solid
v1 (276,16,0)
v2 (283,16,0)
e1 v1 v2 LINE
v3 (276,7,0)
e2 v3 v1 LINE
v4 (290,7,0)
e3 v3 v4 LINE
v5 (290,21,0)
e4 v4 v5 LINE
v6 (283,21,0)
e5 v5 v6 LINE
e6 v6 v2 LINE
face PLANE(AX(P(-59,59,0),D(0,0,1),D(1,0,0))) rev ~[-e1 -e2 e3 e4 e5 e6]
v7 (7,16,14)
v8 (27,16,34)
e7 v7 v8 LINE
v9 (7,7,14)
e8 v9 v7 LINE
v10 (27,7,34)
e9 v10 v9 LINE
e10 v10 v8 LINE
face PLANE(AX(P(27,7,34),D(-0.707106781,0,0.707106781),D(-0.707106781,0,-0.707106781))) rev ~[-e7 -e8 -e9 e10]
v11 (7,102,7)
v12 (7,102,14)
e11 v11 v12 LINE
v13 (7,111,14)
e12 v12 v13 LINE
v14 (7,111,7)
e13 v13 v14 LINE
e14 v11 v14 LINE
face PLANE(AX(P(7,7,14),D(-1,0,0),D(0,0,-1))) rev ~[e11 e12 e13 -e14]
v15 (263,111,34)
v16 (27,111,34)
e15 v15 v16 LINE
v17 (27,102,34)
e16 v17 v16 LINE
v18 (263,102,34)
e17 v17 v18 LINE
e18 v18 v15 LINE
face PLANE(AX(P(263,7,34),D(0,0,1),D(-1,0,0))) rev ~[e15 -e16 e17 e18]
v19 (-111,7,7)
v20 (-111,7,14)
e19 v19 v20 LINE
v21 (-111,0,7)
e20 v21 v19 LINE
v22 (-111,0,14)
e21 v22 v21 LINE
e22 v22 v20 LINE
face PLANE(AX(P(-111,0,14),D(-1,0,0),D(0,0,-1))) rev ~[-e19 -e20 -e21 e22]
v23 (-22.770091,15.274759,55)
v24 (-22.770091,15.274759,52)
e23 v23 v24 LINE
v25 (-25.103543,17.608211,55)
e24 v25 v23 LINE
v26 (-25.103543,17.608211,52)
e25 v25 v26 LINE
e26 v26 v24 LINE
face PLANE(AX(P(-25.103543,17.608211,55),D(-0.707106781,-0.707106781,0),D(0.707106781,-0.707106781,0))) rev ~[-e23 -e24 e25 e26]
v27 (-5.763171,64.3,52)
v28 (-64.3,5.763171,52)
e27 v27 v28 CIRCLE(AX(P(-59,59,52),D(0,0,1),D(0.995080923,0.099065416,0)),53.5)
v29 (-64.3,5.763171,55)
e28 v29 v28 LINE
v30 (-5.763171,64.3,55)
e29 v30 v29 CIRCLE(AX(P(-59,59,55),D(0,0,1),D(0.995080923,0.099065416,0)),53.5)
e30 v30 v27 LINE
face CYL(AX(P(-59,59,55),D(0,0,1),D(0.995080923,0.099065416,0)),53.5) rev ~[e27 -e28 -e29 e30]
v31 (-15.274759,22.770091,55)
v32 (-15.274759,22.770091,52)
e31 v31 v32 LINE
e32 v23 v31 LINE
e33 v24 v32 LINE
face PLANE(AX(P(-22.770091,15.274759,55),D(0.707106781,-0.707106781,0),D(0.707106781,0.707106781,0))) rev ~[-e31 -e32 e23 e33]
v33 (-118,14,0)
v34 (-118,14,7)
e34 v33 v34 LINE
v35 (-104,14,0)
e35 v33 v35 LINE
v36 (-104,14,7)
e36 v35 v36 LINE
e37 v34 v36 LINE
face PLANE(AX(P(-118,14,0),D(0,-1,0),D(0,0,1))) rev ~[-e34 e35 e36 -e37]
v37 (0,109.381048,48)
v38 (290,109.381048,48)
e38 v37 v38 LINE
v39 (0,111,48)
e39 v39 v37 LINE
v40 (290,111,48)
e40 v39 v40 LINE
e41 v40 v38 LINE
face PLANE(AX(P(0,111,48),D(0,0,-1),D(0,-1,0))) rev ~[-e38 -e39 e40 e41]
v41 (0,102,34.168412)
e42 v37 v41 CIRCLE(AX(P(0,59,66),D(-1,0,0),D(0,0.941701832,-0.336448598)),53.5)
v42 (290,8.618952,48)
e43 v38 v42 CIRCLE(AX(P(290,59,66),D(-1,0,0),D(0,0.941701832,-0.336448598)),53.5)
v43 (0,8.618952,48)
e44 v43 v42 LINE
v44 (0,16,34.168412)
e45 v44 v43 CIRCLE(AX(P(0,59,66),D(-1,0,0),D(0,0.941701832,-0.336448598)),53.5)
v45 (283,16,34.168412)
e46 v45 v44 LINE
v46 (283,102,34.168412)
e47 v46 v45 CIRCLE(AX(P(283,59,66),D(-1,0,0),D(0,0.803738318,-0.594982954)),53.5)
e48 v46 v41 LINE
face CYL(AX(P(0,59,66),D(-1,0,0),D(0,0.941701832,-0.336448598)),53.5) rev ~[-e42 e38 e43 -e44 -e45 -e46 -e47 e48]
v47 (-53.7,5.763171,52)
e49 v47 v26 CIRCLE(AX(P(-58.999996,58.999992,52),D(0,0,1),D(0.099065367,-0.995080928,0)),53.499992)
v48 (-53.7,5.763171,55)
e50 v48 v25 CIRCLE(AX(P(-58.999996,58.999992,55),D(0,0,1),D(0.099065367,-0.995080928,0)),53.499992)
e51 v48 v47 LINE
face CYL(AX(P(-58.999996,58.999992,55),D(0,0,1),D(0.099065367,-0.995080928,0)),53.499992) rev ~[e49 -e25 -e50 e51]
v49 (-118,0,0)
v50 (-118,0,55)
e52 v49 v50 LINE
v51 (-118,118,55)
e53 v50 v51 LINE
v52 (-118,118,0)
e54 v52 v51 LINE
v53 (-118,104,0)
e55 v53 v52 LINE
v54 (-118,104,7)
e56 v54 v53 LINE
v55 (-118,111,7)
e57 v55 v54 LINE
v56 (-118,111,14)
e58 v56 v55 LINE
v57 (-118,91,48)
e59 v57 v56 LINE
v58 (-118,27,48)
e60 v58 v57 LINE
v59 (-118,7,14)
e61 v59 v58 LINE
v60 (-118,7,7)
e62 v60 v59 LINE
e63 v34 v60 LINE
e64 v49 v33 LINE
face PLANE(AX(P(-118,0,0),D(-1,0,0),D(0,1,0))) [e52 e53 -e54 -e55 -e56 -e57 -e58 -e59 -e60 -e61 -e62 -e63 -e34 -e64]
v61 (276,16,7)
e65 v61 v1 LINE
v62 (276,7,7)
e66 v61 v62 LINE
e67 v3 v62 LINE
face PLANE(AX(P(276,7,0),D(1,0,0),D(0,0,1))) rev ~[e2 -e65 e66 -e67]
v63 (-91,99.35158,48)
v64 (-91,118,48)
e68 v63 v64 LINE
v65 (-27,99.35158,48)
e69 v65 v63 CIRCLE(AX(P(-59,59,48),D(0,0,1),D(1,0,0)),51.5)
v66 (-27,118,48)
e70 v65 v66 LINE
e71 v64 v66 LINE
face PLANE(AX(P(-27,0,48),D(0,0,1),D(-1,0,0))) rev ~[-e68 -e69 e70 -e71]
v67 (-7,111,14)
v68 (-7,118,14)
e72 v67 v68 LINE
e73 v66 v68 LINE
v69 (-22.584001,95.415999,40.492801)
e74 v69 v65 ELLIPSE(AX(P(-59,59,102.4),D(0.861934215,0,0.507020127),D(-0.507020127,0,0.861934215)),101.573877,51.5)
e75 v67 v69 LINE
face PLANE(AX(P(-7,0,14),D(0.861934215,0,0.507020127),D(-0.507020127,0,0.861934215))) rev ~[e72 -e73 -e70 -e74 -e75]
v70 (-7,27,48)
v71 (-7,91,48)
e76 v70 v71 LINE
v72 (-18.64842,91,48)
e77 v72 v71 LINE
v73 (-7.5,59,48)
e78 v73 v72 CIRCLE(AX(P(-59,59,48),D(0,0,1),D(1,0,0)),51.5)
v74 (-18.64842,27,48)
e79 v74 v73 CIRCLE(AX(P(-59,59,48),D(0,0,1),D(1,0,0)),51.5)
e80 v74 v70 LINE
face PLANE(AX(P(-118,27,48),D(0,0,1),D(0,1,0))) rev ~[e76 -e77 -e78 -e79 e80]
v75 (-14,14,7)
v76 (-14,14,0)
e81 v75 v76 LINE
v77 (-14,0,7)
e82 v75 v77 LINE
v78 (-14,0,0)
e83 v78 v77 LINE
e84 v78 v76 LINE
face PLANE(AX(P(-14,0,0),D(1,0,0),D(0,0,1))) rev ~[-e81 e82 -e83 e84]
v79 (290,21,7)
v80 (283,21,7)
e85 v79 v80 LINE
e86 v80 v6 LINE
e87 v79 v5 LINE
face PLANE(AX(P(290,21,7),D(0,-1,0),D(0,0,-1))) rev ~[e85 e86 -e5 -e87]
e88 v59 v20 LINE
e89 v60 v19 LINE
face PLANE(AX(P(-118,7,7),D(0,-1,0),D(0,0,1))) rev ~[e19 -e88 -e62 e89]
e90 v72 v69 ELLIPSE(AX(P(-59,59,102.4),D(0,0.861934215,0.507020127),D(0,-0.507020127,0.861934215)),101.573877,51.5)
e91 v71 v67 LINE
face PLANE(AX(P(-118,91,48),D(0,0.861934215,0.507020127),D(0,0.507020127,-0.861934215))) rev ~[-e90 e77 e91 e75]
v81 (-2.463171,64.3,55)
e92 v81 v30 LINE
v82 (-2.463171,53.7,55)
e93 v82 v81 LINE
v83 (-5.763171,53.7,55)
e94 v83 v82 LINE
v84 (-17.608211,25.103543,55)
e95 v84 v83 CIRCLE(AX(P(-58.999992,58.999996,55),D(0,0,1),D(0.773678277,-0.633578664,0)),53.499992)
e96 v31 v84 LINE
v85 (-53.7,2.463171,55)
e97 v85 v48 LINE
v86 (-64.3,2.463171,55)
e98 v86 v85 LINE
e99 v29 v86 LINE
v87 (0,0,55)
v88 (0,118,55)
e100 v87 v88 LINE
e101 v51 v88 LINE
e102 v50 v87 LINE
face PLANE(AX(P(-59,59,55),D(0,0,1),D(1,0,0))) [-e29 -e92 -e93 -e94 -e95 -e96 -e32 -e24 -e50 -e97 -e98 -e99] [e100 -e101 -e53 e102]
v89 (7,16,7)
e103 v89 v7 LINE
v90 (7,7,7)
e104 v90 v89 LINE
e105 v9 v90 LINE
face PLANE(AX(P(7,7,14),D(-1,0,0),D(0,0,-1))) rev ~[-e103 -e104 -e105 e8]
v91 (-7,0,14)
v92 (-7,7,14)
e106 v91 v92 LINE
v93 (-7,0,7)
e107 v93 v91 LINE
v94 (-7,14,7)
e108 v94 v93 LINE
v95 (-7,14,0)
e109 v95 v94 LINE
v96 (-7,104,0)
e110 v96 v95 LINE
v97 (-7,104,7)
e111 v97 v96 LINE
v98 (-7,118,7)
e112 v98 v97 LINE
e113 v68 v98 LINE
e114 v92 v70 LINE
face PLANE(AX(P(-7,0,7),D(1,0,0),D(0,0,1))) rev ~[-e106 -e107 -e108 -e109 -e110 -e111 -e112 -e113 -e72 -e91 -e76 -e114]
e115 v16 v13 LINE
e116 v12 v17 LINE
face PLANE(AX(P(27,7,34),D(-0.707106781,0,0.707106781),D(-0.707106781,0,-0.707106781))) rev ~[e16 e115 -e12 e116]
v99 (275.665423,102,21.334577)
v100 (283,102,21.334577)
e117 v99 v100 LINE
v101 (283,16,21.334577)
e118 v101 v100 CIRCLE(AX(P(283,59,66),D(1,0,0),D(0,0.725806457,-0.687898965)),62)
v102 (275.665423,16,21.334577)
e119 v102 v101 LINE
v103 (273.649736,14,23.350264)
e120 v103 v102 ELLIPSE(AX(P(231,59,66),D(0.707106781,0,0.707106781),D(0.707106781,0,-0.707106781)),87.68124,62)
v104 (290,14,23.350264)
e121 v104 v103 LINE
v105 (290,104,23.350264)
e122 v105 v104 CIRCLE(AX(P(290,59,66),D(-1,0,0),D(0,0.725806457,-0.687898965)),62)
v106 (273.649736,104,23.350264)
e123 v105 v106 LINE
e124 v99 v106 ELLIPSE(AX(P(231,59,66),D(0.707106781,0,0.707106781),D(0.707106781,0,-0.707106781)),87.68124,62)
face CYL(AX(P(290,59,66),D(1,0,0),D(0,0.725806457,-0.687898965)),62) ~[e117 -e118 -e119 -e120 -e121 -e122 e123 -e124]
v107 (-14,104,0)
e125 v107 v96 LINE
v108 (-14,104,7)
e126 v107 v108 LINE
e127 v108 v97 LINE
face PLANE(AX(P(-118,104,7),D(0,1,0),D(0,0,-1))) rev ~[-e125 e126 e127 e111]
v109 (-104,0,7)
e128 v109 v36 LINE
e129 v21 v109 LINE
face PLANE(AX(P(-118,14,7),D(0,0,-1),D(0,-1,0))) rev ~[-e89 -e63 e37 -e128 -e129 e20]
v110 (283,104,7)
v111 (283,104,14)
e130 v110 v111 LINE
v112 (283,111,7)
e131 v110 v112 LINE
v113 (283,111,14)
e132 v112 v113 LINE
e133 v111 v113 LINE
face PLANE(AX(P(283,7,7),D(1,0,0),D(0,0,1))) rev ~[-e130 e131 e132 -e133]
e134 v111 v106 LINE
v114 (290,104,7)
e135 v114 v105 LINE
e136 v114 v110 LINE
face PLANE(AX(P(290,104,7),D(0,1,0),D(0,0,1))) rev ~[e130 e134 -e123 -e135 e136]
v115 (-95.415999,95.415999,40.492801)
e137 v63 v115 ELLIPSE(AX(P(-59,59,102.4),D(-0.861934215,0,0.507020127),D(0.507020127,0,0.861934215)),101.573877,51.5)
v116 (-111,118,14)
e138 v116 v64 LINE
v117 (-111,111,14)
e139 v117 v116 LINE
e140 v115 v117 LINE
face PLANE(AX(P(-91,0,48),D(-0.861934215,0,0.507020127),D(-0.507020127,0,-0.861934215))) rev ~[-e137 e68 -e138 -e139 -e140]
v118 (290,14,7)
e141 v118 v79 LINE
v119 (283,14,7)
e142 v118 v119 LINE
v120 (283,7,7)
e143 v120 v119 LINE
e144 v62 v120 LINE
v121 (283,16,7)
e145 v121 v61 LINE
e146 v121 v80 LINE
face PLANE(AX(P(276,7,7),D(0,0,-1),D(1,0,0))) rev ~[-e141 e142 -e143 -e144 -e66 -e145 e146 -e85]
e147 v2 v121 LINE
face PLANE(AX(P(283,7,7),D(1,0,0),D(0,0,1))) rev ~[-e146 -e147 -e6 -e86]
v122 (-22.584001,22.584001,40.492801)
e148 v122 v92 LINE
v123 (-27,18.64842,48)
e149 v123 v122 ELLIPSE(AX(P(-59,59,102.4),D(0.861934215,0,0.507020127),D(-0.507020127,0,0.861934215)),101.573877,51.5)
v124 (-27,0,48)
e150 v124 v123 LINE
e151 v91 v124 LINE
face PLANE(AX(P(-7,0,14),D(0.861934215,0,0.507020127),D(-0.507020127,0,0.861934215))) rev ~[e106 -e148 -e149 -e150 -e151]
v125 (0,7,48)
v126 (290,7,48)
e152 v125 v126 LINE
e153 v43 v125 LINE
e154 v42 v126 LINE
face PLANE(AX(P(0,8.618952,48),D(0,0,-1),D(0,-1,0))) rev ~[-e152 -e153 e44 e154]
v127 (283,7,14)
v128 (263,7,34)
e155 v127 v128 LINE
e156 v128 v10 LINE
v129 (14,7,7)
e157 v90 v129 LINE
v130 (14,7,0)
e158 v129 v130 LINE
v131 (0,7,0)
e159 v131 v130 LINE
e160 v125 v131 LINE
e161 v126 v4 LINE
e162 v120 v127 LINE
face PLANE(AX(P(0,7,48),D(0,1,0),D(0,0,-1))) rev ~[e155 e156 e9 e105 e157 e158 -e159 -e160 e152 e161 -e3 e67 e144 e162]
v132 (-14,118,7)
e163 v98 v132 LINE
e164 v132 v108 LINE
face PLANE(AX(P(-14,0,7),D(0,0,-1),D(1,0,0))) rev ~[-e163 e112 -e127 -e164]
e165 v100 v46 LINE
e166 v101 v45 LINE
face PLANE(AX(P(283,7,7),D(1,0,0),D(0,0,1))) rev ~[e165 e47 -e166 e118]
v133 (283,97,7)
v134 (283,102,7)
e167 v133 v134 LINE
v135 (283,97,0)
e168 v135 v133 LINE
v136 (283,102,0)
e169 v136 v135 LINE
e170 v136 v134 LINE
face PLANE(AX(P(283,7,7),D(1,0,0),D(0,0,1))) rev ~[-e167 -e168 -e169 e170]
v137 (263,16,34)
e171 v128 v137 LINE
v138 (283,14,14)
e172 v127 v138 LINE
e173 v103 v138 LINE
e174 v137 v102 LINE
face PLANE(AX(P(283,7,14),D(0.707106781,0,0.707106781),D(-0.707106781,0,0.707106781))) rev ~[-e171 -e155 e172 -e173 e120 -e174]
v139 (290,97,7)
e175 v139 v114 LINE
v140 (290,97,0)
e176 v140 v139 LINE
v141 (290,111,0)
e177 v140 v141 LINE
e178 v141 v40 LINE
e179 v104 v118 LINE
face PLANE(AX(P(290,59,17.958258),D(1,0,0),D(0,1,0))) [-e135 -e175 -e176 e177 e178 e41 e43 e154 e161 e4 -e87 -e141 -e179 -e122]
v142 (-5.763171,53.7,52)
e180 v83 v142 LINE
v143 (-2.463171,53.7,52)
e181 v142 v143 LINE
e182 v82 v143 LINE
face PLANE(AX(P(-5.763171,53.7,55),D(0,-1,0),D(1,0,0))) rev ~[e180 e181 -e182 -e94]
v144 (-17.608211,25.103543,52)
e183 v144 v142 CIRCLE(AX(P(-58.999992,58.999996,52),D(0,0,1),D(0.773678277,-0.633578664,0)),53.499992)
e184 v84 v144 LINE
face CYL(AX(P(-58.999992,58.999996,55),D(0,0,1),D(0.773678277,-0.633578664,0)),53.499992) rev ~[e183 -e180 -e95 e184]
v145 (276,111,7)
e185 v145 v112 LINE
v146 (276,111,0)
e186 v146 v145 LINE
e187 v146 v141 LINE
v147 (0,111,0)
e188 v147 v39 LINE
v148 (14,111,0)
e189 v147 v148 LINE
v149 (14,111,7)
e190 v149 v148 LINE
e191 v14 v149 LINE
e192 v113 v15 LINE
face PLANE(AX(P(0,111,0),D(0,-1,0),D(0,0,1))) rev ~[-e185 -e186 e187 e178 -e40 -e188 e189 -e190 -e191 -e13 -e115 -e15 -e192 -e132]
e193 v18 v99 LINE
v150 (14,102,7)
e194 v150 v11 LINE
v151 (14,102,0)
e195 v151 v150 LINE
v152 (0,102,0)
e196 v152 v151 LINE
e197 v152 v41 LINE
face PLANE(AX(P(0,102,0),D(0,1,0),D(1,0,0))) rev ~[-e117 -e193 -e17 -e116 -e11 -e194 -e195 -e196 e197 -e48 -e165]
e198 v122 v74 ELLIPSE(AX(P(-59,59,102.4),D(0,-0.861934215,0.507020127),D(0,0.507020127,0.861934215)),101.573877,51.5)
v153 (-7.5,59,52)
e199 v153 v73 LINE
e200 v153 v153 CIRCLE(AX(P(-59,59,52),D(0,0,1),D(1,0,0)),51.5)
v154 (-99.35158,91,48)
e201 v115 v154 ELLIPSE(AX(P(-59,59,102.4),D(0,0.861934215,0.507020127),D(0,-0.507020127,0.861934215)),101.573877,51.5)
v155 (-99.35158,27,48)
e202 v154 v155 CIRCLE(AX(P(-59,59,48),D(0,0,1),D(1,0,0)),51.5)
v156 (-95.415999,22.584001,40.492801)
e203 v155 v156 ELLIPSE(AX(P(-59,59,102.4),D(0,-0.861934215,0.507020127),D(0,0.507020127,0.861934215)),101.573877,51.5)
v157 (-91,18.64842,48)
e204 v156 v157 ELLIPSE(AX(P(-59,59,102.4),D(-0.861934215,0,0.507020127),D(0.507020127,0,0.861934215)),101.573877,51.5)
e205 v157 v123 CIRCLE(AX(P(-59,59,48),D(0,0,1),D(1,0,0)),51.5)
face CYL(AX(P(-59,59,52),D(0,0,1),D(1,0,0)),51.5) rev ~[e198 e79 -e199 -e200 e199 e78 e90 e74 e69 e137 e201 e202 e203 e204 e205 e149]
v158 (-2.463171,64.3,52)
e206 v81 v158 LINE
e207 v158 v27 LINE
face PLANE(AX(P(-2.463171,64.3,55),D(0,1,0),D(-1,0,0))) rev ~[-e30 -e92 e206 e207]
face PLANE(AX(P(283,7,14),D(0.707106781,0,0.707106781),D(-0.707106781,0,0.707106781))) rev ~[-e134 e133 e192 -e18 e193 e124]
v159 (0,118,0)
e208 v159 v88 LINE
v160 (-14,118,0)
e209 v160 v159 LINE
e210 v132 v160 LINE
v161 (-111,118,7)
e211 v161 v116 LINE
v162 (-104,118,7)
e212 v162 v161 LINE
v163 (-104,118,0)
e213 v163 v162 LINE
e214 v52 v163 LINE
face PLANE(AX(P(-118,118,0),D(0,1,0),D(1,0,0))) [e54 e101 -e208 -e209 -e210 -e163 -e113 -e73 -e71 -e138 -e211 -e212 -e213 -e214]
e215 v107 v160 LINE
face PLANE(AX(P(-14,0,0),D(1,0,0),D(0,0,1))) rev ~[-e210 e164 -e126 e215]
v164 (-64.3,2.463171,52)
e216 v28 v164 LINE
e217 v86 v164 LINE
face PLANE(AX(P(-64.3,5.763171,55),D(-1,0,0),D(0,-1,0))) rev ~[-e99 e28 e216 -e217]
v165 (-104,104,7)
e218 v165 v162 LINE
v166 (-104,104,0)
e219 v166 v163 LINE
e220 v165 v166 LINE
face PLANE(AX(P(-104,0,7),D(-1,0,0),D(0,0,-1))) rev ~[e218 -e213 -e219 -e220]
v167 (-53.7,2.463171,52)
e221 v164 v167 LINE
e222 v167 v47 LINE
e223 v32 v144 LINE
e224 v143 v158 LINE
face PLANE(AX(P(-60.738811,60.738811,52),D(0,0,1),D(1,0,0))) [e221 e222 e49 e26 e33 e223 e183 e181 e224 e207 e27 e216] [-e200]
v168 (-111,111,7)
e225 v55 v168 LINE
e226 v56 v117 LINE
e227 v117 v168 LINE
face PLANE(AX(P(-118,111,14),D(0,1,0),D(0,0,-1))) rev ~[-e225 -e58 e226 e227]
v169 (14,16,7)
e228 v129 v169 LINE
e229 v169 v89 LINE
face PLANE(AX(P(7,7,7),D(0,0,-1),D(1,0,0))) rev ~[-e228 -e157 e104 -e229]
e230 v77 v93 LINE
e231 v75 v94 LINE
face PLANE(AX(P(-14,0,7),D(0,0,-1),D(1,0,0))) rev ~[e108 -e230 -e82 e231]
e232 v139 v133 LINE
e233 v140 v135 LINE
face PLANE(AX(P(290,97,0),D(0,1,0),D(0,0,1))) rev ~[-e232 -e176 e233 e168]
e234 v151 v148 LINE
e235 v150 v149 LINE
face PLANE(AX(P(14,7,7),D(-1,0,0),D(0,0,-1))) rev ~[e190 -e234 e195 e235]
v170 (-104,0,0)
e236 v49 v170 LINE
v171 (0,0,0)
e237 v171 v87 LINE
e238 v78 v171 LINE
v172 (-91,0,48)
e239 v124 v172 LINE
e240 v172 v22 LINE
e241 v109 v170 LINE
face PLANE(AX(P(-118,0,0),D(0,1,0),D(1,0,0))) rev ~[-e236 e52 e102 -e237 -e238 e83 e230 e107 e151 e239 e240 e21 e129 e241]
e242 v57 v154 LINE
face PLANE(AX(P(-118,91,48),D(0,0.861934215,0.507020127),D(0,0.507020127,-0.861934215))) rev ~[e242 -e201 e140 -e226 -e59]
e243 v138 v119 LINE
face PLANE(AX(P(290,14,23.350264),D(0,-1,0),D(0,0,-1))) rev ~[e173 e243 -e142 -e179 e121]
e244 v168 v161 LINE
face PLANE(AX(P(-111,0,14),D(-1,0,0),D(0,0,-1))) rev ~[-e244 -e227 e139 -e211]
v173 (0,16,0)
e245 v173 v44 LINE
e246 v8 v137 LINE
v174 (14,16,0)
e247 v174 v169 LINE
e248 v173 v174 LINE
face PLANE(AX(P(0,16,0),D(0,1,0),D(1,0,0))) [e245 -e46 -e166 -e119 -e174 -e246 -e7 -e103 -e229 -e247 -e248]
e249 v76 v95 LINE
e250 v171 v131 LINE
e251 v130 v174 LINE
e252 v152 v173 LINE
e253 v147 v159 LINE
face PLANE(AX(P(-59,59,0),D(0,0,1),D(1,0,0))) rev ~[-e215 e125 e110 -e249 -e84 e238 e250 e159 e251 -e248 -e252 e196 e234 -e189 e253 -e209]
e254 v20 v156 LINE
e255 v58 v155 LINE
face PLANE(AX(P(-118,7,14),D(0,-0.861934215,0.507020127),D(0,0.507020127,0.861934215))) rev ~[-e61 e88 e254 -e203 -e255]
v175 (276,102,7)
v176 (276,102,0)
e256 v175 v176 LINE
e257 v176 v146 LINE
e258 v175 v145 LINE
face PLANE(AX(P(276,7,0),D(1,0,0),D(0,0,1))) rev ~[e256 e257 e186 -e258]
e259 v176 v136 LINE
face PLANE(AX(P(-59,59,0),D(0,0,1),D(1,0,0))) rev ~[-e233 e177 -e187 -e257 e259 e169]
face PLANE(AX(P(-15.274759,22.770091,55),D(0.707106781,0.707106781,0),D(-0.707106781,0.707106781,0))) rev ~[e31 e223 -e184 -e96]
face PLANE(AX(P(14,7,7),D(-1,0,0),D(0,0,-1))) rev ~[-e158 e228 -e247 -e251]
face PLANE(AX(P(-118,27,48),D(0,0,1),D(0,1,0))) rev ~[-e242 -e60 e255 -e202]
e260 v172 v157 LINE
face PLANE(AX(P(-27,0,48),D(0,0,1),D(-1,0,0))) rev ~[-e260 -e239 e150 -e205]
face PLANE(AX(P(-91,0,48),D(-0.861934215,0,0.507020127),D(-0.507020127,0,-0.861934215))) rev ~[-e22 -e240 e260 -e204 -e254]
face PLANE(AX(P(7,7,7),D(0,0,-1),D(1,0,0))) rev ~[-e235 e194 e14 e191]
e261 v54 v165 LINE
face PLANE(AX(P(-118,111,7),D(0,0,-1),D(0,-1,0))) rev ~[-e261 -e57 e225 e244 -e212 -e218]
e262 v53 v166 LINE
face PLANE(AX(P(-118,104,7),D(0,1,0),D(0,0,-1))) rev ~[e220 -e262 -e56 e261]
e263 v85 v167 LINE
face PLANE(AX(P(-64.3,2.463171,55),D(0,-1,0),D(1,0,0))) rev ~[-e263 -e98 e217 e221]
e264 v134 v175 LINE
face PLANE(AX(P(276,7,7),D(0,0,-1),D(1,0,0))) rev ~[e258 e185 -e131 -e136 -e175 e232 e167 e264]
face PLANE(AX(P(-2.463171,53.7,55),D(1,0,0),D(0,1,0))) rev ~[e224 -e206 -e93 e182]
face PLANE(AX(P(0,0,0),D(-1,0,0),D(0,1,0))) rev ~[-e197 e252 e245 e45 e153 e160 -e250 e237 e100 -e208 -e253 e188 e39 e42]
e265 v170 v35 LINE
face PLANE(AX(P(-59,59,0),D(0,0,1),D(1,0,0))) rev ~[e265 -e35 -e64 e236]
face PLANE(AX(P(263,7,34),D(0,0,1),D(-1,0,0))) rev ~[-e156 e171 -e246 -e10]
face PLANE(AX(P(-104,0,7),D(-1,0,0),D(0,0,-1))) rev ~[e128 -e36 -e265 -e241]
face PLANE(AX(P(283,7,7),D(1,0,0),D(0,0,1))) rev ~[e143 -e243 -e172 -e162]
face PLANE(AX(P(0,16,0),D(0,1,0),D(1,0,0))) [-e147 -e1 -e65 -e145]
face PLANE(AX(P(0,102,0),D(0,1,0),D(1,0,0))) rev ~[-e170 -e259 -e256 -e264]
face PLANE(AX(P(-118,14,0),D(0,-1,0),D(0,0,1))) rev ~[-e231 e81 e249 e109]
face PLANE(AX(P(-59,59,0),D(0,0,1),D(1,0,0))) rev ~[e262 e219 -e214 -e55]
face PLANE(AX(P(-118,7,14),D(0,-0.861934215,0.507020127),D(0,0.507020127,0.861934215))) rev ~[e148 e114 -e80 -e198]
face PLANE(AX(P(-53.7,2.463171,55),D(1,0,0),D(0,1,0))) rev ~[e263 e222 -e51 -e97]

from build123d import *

# Parameters (mm, degrees)
F0_W      = 118
F0_H      = 118
F1_DEPTH  = 55
F3_DEPTH  = 3
F4_R      = 51.5
F5_DEPTH  = 100
F7_DEPTH  = 150
F9_DEPTH  = 111
F11_DEPTH = 290
F12_W     = 283
F12_H     = 86
F13_DEPTH = 50
F15_DEPTH = 150
F17_DEPTH = 25


with BuildPart() as f1:
    # F0 (on Top) → F1 (new body)
    with BuildSketch(Plane.XY):
        with Locations((-59, 59)):
            Rectangle(F0_W, F0_H)
    extrude(amount=F1_DEPTH)

    # F2 (on face) → F3 (cut)
    with BuildSketch(Plane.XY.offset(55)):
        with BuildLine():
            Line((-59, 59), (-5.5, 59))
            ThreePointArc((-5.5, 59), (-5.565833, 61.653265), (-5.763171, 64.3))
            ThreePointArc((-5.763171, 64.3), (-96.830213, 96.830213), (-64.3, 5.763171))
            ThreePointArc((-64.3, 5.763171), (-61.653265, 5.565833), (-59, 5.5))
            Line((-59, 5.5), (-59, 59))
        make_face()
        with BuildLine():
            ThreePointArc((-59, 5.5), (-61.653265, 5.565833), (-64.3, 5.763171))
            Line((-64.3, 5.763171), (-64.3, 2.463171))
            Line((-64.3, 2.463171), (-53.7, 2.463171))
            Line((-53.7, 2.463171), (-53.7, 5.763171))
            ThreePointArc((-53.7, 5.763171), (-56.346735, 5.565833), (-59, 5.5))
        make_face()
        with BuildLine():
            Line((-21.169787, 21.169787), (-59, 59))
            Line((-59, 59), (-59, 5.5))
            ThreePointArc((-59, 5.5), (-56.346735, 5.565833), (-53.7, 5.763171))
            ThreePointArc((-53.7, 5.763171), (-38.526436, 9.572445), (-25.103543, 17.608211))
            ThreePointArc((-25.103543, 17.608211), (-23.09248, 19.340197), (-21.169787, 21.169787))
        make_face()
        with BuildLine():
            Line((-15.274759, 22.770091), (-17.608211, 25.103543))
            ThreePointArc((-17.608211, 25.103543), (-19.340197, 23.09248), (-21.169787, 21.169787))
            ThreePointArc((-21.169787, 21.169787), (-23.09248, 19.340197), (-25.103543, 17.608211))
            Line((-25.103543, 17.608211), (-22.770091, 15.274759))
            Line((-22.770091, 15.274759), (-15.274759, 22.770091))
        make_face()
        with BuildLine():
            ThreePointArc((-5.763171, 53.7), (-5.565833, 56.346735), (-5.5, 59))
            Line((-5.5, 59), (-59, 59))
            Line((-59, 59), (-21.169787, 21.169787))
            ThreePointArc((-21.169787, 21.169787), (-19.340197, 23.09248), (-17.608211, 25.103543))
            ThreePointArc((-17.608211, 25.103543), (-9.572445, 38.526436), (-5.763171, 53.7))
        make_face()
        with BuildLine():
            ThreePointArc((-5.763171, 64.3), (-5.565833, 61.653265), (-5.5, 59))
            ThreePointArc((-5.5, 59), (-5.565833, 56.346735), (-5.763171, 53.7))
            Line((-5.763171, 53.7), (-2.463171, 53.7))
            Line((-2.463171, 53.7), (-2.463171, 64.3))
            Line((-2.463171, 64.3), (-5.763171, 64.3))
        make_face()
    extrude(amount=-F3_DEPTH, mode=Mode.SUBTRACT)

    # F4 (on face) → F5 (cut)
    with BuildSketch(Plane.XY.offset(52)):
        with Locations((-59, 59)):
            Circle(F4_R)
    extrude(amount=-F5_DEPTH, mode=Mode.SUBTRACT)

    # F6 (on face) → F7 (cut)
    with BuildSketch(Plane.XZ):
        Polygon((-104, 7), (-104, 0), (-14, 0), (-14, 7), (-7, 7), (-7, 14), (-27, 48), (-91, 48), (-111, 14), (-111, 7), align=None)
    extrude(amount=-F7_DEPTH, mode=Mode.SUBTRACT)

    # F8 (on face) → F9 (cut)
    with BuildSketch(Plane(origin=(-118, 0, 0), x_dir=(0, -1, 0), z_dir=(-1, 0, 0))):
        Polygon((-104, 7), (-104, 0), (-14, 0), (-14, 7), (-7, 7), (-7, 14), (-27, 48), (-91, 48), (-111, 14), (-111, 7), align=None)
    extrude(amount=-F9_DEPTH, mode=Mode.SUBTRACT)

    # F10 (on face) → F11 (join)
    with BuildSketch(Plane.YZ):
        with BuildLine():
            Line((7, 48), (7, 0))
            Line((7, 0), (111, 0))
            Line((111, 0), (111, 48))
            Line((111, 48), (109.381048, 48))
            ThreePointArc((109.381048, 48), (59, 12.5), (8.618952, 48))
            Line((8.618952, 48), (7, 48))
        make_face()
    extrude(amount=F11_DEPTH)

    # F12 (on face) → F13 (cut)
    with BuildSketch(Plane(origin=(0, 0, 0), x_dir=(1, 0, 0), z_dir=(0, 0, -1))):
        with Locations((141.5, -59)):
            Rectangle(F12_W, F12_H)
    extrude(amount=-F13_DEPTH, mode=Mode.SUBTRACT)

    # F14 (on face) → F15 (cut)
    with BuildSketch(Plane.XZ.offset(-7)):
        Polygon((14, 7), (14, 0), (276, 0), (276, 7), (283, 7), (283, 14), (263, 34), (27, 34), (7, 14), (7, 7), align=None)
    extrude(amount=-F15_DEPTH, mode=Mode.SUBTRACT)

    # F16 (on face) → F17 (cut)
    with BuildSketch(Plane.YZ.offset(290)):
        with BuildLine():
            ThreePointArc((104, 23.350264), (59, 4), (14, 23.350264))
            Line((14, 23.350264), (14, 7))
            Line((14, 7), (21, 7))
            Line((21, 7), (21, 0))
            Line((21, 0), (97, 0))
            Line((97, 0), (97, 7))
            Line((97, 7), (104, 7))
            Line((104, 7), (104, 23.350264))
        make_face()
    extrude(amount=-F17_DEPTH, mode=Mode.SUBTRACT)


solid = f1.part
